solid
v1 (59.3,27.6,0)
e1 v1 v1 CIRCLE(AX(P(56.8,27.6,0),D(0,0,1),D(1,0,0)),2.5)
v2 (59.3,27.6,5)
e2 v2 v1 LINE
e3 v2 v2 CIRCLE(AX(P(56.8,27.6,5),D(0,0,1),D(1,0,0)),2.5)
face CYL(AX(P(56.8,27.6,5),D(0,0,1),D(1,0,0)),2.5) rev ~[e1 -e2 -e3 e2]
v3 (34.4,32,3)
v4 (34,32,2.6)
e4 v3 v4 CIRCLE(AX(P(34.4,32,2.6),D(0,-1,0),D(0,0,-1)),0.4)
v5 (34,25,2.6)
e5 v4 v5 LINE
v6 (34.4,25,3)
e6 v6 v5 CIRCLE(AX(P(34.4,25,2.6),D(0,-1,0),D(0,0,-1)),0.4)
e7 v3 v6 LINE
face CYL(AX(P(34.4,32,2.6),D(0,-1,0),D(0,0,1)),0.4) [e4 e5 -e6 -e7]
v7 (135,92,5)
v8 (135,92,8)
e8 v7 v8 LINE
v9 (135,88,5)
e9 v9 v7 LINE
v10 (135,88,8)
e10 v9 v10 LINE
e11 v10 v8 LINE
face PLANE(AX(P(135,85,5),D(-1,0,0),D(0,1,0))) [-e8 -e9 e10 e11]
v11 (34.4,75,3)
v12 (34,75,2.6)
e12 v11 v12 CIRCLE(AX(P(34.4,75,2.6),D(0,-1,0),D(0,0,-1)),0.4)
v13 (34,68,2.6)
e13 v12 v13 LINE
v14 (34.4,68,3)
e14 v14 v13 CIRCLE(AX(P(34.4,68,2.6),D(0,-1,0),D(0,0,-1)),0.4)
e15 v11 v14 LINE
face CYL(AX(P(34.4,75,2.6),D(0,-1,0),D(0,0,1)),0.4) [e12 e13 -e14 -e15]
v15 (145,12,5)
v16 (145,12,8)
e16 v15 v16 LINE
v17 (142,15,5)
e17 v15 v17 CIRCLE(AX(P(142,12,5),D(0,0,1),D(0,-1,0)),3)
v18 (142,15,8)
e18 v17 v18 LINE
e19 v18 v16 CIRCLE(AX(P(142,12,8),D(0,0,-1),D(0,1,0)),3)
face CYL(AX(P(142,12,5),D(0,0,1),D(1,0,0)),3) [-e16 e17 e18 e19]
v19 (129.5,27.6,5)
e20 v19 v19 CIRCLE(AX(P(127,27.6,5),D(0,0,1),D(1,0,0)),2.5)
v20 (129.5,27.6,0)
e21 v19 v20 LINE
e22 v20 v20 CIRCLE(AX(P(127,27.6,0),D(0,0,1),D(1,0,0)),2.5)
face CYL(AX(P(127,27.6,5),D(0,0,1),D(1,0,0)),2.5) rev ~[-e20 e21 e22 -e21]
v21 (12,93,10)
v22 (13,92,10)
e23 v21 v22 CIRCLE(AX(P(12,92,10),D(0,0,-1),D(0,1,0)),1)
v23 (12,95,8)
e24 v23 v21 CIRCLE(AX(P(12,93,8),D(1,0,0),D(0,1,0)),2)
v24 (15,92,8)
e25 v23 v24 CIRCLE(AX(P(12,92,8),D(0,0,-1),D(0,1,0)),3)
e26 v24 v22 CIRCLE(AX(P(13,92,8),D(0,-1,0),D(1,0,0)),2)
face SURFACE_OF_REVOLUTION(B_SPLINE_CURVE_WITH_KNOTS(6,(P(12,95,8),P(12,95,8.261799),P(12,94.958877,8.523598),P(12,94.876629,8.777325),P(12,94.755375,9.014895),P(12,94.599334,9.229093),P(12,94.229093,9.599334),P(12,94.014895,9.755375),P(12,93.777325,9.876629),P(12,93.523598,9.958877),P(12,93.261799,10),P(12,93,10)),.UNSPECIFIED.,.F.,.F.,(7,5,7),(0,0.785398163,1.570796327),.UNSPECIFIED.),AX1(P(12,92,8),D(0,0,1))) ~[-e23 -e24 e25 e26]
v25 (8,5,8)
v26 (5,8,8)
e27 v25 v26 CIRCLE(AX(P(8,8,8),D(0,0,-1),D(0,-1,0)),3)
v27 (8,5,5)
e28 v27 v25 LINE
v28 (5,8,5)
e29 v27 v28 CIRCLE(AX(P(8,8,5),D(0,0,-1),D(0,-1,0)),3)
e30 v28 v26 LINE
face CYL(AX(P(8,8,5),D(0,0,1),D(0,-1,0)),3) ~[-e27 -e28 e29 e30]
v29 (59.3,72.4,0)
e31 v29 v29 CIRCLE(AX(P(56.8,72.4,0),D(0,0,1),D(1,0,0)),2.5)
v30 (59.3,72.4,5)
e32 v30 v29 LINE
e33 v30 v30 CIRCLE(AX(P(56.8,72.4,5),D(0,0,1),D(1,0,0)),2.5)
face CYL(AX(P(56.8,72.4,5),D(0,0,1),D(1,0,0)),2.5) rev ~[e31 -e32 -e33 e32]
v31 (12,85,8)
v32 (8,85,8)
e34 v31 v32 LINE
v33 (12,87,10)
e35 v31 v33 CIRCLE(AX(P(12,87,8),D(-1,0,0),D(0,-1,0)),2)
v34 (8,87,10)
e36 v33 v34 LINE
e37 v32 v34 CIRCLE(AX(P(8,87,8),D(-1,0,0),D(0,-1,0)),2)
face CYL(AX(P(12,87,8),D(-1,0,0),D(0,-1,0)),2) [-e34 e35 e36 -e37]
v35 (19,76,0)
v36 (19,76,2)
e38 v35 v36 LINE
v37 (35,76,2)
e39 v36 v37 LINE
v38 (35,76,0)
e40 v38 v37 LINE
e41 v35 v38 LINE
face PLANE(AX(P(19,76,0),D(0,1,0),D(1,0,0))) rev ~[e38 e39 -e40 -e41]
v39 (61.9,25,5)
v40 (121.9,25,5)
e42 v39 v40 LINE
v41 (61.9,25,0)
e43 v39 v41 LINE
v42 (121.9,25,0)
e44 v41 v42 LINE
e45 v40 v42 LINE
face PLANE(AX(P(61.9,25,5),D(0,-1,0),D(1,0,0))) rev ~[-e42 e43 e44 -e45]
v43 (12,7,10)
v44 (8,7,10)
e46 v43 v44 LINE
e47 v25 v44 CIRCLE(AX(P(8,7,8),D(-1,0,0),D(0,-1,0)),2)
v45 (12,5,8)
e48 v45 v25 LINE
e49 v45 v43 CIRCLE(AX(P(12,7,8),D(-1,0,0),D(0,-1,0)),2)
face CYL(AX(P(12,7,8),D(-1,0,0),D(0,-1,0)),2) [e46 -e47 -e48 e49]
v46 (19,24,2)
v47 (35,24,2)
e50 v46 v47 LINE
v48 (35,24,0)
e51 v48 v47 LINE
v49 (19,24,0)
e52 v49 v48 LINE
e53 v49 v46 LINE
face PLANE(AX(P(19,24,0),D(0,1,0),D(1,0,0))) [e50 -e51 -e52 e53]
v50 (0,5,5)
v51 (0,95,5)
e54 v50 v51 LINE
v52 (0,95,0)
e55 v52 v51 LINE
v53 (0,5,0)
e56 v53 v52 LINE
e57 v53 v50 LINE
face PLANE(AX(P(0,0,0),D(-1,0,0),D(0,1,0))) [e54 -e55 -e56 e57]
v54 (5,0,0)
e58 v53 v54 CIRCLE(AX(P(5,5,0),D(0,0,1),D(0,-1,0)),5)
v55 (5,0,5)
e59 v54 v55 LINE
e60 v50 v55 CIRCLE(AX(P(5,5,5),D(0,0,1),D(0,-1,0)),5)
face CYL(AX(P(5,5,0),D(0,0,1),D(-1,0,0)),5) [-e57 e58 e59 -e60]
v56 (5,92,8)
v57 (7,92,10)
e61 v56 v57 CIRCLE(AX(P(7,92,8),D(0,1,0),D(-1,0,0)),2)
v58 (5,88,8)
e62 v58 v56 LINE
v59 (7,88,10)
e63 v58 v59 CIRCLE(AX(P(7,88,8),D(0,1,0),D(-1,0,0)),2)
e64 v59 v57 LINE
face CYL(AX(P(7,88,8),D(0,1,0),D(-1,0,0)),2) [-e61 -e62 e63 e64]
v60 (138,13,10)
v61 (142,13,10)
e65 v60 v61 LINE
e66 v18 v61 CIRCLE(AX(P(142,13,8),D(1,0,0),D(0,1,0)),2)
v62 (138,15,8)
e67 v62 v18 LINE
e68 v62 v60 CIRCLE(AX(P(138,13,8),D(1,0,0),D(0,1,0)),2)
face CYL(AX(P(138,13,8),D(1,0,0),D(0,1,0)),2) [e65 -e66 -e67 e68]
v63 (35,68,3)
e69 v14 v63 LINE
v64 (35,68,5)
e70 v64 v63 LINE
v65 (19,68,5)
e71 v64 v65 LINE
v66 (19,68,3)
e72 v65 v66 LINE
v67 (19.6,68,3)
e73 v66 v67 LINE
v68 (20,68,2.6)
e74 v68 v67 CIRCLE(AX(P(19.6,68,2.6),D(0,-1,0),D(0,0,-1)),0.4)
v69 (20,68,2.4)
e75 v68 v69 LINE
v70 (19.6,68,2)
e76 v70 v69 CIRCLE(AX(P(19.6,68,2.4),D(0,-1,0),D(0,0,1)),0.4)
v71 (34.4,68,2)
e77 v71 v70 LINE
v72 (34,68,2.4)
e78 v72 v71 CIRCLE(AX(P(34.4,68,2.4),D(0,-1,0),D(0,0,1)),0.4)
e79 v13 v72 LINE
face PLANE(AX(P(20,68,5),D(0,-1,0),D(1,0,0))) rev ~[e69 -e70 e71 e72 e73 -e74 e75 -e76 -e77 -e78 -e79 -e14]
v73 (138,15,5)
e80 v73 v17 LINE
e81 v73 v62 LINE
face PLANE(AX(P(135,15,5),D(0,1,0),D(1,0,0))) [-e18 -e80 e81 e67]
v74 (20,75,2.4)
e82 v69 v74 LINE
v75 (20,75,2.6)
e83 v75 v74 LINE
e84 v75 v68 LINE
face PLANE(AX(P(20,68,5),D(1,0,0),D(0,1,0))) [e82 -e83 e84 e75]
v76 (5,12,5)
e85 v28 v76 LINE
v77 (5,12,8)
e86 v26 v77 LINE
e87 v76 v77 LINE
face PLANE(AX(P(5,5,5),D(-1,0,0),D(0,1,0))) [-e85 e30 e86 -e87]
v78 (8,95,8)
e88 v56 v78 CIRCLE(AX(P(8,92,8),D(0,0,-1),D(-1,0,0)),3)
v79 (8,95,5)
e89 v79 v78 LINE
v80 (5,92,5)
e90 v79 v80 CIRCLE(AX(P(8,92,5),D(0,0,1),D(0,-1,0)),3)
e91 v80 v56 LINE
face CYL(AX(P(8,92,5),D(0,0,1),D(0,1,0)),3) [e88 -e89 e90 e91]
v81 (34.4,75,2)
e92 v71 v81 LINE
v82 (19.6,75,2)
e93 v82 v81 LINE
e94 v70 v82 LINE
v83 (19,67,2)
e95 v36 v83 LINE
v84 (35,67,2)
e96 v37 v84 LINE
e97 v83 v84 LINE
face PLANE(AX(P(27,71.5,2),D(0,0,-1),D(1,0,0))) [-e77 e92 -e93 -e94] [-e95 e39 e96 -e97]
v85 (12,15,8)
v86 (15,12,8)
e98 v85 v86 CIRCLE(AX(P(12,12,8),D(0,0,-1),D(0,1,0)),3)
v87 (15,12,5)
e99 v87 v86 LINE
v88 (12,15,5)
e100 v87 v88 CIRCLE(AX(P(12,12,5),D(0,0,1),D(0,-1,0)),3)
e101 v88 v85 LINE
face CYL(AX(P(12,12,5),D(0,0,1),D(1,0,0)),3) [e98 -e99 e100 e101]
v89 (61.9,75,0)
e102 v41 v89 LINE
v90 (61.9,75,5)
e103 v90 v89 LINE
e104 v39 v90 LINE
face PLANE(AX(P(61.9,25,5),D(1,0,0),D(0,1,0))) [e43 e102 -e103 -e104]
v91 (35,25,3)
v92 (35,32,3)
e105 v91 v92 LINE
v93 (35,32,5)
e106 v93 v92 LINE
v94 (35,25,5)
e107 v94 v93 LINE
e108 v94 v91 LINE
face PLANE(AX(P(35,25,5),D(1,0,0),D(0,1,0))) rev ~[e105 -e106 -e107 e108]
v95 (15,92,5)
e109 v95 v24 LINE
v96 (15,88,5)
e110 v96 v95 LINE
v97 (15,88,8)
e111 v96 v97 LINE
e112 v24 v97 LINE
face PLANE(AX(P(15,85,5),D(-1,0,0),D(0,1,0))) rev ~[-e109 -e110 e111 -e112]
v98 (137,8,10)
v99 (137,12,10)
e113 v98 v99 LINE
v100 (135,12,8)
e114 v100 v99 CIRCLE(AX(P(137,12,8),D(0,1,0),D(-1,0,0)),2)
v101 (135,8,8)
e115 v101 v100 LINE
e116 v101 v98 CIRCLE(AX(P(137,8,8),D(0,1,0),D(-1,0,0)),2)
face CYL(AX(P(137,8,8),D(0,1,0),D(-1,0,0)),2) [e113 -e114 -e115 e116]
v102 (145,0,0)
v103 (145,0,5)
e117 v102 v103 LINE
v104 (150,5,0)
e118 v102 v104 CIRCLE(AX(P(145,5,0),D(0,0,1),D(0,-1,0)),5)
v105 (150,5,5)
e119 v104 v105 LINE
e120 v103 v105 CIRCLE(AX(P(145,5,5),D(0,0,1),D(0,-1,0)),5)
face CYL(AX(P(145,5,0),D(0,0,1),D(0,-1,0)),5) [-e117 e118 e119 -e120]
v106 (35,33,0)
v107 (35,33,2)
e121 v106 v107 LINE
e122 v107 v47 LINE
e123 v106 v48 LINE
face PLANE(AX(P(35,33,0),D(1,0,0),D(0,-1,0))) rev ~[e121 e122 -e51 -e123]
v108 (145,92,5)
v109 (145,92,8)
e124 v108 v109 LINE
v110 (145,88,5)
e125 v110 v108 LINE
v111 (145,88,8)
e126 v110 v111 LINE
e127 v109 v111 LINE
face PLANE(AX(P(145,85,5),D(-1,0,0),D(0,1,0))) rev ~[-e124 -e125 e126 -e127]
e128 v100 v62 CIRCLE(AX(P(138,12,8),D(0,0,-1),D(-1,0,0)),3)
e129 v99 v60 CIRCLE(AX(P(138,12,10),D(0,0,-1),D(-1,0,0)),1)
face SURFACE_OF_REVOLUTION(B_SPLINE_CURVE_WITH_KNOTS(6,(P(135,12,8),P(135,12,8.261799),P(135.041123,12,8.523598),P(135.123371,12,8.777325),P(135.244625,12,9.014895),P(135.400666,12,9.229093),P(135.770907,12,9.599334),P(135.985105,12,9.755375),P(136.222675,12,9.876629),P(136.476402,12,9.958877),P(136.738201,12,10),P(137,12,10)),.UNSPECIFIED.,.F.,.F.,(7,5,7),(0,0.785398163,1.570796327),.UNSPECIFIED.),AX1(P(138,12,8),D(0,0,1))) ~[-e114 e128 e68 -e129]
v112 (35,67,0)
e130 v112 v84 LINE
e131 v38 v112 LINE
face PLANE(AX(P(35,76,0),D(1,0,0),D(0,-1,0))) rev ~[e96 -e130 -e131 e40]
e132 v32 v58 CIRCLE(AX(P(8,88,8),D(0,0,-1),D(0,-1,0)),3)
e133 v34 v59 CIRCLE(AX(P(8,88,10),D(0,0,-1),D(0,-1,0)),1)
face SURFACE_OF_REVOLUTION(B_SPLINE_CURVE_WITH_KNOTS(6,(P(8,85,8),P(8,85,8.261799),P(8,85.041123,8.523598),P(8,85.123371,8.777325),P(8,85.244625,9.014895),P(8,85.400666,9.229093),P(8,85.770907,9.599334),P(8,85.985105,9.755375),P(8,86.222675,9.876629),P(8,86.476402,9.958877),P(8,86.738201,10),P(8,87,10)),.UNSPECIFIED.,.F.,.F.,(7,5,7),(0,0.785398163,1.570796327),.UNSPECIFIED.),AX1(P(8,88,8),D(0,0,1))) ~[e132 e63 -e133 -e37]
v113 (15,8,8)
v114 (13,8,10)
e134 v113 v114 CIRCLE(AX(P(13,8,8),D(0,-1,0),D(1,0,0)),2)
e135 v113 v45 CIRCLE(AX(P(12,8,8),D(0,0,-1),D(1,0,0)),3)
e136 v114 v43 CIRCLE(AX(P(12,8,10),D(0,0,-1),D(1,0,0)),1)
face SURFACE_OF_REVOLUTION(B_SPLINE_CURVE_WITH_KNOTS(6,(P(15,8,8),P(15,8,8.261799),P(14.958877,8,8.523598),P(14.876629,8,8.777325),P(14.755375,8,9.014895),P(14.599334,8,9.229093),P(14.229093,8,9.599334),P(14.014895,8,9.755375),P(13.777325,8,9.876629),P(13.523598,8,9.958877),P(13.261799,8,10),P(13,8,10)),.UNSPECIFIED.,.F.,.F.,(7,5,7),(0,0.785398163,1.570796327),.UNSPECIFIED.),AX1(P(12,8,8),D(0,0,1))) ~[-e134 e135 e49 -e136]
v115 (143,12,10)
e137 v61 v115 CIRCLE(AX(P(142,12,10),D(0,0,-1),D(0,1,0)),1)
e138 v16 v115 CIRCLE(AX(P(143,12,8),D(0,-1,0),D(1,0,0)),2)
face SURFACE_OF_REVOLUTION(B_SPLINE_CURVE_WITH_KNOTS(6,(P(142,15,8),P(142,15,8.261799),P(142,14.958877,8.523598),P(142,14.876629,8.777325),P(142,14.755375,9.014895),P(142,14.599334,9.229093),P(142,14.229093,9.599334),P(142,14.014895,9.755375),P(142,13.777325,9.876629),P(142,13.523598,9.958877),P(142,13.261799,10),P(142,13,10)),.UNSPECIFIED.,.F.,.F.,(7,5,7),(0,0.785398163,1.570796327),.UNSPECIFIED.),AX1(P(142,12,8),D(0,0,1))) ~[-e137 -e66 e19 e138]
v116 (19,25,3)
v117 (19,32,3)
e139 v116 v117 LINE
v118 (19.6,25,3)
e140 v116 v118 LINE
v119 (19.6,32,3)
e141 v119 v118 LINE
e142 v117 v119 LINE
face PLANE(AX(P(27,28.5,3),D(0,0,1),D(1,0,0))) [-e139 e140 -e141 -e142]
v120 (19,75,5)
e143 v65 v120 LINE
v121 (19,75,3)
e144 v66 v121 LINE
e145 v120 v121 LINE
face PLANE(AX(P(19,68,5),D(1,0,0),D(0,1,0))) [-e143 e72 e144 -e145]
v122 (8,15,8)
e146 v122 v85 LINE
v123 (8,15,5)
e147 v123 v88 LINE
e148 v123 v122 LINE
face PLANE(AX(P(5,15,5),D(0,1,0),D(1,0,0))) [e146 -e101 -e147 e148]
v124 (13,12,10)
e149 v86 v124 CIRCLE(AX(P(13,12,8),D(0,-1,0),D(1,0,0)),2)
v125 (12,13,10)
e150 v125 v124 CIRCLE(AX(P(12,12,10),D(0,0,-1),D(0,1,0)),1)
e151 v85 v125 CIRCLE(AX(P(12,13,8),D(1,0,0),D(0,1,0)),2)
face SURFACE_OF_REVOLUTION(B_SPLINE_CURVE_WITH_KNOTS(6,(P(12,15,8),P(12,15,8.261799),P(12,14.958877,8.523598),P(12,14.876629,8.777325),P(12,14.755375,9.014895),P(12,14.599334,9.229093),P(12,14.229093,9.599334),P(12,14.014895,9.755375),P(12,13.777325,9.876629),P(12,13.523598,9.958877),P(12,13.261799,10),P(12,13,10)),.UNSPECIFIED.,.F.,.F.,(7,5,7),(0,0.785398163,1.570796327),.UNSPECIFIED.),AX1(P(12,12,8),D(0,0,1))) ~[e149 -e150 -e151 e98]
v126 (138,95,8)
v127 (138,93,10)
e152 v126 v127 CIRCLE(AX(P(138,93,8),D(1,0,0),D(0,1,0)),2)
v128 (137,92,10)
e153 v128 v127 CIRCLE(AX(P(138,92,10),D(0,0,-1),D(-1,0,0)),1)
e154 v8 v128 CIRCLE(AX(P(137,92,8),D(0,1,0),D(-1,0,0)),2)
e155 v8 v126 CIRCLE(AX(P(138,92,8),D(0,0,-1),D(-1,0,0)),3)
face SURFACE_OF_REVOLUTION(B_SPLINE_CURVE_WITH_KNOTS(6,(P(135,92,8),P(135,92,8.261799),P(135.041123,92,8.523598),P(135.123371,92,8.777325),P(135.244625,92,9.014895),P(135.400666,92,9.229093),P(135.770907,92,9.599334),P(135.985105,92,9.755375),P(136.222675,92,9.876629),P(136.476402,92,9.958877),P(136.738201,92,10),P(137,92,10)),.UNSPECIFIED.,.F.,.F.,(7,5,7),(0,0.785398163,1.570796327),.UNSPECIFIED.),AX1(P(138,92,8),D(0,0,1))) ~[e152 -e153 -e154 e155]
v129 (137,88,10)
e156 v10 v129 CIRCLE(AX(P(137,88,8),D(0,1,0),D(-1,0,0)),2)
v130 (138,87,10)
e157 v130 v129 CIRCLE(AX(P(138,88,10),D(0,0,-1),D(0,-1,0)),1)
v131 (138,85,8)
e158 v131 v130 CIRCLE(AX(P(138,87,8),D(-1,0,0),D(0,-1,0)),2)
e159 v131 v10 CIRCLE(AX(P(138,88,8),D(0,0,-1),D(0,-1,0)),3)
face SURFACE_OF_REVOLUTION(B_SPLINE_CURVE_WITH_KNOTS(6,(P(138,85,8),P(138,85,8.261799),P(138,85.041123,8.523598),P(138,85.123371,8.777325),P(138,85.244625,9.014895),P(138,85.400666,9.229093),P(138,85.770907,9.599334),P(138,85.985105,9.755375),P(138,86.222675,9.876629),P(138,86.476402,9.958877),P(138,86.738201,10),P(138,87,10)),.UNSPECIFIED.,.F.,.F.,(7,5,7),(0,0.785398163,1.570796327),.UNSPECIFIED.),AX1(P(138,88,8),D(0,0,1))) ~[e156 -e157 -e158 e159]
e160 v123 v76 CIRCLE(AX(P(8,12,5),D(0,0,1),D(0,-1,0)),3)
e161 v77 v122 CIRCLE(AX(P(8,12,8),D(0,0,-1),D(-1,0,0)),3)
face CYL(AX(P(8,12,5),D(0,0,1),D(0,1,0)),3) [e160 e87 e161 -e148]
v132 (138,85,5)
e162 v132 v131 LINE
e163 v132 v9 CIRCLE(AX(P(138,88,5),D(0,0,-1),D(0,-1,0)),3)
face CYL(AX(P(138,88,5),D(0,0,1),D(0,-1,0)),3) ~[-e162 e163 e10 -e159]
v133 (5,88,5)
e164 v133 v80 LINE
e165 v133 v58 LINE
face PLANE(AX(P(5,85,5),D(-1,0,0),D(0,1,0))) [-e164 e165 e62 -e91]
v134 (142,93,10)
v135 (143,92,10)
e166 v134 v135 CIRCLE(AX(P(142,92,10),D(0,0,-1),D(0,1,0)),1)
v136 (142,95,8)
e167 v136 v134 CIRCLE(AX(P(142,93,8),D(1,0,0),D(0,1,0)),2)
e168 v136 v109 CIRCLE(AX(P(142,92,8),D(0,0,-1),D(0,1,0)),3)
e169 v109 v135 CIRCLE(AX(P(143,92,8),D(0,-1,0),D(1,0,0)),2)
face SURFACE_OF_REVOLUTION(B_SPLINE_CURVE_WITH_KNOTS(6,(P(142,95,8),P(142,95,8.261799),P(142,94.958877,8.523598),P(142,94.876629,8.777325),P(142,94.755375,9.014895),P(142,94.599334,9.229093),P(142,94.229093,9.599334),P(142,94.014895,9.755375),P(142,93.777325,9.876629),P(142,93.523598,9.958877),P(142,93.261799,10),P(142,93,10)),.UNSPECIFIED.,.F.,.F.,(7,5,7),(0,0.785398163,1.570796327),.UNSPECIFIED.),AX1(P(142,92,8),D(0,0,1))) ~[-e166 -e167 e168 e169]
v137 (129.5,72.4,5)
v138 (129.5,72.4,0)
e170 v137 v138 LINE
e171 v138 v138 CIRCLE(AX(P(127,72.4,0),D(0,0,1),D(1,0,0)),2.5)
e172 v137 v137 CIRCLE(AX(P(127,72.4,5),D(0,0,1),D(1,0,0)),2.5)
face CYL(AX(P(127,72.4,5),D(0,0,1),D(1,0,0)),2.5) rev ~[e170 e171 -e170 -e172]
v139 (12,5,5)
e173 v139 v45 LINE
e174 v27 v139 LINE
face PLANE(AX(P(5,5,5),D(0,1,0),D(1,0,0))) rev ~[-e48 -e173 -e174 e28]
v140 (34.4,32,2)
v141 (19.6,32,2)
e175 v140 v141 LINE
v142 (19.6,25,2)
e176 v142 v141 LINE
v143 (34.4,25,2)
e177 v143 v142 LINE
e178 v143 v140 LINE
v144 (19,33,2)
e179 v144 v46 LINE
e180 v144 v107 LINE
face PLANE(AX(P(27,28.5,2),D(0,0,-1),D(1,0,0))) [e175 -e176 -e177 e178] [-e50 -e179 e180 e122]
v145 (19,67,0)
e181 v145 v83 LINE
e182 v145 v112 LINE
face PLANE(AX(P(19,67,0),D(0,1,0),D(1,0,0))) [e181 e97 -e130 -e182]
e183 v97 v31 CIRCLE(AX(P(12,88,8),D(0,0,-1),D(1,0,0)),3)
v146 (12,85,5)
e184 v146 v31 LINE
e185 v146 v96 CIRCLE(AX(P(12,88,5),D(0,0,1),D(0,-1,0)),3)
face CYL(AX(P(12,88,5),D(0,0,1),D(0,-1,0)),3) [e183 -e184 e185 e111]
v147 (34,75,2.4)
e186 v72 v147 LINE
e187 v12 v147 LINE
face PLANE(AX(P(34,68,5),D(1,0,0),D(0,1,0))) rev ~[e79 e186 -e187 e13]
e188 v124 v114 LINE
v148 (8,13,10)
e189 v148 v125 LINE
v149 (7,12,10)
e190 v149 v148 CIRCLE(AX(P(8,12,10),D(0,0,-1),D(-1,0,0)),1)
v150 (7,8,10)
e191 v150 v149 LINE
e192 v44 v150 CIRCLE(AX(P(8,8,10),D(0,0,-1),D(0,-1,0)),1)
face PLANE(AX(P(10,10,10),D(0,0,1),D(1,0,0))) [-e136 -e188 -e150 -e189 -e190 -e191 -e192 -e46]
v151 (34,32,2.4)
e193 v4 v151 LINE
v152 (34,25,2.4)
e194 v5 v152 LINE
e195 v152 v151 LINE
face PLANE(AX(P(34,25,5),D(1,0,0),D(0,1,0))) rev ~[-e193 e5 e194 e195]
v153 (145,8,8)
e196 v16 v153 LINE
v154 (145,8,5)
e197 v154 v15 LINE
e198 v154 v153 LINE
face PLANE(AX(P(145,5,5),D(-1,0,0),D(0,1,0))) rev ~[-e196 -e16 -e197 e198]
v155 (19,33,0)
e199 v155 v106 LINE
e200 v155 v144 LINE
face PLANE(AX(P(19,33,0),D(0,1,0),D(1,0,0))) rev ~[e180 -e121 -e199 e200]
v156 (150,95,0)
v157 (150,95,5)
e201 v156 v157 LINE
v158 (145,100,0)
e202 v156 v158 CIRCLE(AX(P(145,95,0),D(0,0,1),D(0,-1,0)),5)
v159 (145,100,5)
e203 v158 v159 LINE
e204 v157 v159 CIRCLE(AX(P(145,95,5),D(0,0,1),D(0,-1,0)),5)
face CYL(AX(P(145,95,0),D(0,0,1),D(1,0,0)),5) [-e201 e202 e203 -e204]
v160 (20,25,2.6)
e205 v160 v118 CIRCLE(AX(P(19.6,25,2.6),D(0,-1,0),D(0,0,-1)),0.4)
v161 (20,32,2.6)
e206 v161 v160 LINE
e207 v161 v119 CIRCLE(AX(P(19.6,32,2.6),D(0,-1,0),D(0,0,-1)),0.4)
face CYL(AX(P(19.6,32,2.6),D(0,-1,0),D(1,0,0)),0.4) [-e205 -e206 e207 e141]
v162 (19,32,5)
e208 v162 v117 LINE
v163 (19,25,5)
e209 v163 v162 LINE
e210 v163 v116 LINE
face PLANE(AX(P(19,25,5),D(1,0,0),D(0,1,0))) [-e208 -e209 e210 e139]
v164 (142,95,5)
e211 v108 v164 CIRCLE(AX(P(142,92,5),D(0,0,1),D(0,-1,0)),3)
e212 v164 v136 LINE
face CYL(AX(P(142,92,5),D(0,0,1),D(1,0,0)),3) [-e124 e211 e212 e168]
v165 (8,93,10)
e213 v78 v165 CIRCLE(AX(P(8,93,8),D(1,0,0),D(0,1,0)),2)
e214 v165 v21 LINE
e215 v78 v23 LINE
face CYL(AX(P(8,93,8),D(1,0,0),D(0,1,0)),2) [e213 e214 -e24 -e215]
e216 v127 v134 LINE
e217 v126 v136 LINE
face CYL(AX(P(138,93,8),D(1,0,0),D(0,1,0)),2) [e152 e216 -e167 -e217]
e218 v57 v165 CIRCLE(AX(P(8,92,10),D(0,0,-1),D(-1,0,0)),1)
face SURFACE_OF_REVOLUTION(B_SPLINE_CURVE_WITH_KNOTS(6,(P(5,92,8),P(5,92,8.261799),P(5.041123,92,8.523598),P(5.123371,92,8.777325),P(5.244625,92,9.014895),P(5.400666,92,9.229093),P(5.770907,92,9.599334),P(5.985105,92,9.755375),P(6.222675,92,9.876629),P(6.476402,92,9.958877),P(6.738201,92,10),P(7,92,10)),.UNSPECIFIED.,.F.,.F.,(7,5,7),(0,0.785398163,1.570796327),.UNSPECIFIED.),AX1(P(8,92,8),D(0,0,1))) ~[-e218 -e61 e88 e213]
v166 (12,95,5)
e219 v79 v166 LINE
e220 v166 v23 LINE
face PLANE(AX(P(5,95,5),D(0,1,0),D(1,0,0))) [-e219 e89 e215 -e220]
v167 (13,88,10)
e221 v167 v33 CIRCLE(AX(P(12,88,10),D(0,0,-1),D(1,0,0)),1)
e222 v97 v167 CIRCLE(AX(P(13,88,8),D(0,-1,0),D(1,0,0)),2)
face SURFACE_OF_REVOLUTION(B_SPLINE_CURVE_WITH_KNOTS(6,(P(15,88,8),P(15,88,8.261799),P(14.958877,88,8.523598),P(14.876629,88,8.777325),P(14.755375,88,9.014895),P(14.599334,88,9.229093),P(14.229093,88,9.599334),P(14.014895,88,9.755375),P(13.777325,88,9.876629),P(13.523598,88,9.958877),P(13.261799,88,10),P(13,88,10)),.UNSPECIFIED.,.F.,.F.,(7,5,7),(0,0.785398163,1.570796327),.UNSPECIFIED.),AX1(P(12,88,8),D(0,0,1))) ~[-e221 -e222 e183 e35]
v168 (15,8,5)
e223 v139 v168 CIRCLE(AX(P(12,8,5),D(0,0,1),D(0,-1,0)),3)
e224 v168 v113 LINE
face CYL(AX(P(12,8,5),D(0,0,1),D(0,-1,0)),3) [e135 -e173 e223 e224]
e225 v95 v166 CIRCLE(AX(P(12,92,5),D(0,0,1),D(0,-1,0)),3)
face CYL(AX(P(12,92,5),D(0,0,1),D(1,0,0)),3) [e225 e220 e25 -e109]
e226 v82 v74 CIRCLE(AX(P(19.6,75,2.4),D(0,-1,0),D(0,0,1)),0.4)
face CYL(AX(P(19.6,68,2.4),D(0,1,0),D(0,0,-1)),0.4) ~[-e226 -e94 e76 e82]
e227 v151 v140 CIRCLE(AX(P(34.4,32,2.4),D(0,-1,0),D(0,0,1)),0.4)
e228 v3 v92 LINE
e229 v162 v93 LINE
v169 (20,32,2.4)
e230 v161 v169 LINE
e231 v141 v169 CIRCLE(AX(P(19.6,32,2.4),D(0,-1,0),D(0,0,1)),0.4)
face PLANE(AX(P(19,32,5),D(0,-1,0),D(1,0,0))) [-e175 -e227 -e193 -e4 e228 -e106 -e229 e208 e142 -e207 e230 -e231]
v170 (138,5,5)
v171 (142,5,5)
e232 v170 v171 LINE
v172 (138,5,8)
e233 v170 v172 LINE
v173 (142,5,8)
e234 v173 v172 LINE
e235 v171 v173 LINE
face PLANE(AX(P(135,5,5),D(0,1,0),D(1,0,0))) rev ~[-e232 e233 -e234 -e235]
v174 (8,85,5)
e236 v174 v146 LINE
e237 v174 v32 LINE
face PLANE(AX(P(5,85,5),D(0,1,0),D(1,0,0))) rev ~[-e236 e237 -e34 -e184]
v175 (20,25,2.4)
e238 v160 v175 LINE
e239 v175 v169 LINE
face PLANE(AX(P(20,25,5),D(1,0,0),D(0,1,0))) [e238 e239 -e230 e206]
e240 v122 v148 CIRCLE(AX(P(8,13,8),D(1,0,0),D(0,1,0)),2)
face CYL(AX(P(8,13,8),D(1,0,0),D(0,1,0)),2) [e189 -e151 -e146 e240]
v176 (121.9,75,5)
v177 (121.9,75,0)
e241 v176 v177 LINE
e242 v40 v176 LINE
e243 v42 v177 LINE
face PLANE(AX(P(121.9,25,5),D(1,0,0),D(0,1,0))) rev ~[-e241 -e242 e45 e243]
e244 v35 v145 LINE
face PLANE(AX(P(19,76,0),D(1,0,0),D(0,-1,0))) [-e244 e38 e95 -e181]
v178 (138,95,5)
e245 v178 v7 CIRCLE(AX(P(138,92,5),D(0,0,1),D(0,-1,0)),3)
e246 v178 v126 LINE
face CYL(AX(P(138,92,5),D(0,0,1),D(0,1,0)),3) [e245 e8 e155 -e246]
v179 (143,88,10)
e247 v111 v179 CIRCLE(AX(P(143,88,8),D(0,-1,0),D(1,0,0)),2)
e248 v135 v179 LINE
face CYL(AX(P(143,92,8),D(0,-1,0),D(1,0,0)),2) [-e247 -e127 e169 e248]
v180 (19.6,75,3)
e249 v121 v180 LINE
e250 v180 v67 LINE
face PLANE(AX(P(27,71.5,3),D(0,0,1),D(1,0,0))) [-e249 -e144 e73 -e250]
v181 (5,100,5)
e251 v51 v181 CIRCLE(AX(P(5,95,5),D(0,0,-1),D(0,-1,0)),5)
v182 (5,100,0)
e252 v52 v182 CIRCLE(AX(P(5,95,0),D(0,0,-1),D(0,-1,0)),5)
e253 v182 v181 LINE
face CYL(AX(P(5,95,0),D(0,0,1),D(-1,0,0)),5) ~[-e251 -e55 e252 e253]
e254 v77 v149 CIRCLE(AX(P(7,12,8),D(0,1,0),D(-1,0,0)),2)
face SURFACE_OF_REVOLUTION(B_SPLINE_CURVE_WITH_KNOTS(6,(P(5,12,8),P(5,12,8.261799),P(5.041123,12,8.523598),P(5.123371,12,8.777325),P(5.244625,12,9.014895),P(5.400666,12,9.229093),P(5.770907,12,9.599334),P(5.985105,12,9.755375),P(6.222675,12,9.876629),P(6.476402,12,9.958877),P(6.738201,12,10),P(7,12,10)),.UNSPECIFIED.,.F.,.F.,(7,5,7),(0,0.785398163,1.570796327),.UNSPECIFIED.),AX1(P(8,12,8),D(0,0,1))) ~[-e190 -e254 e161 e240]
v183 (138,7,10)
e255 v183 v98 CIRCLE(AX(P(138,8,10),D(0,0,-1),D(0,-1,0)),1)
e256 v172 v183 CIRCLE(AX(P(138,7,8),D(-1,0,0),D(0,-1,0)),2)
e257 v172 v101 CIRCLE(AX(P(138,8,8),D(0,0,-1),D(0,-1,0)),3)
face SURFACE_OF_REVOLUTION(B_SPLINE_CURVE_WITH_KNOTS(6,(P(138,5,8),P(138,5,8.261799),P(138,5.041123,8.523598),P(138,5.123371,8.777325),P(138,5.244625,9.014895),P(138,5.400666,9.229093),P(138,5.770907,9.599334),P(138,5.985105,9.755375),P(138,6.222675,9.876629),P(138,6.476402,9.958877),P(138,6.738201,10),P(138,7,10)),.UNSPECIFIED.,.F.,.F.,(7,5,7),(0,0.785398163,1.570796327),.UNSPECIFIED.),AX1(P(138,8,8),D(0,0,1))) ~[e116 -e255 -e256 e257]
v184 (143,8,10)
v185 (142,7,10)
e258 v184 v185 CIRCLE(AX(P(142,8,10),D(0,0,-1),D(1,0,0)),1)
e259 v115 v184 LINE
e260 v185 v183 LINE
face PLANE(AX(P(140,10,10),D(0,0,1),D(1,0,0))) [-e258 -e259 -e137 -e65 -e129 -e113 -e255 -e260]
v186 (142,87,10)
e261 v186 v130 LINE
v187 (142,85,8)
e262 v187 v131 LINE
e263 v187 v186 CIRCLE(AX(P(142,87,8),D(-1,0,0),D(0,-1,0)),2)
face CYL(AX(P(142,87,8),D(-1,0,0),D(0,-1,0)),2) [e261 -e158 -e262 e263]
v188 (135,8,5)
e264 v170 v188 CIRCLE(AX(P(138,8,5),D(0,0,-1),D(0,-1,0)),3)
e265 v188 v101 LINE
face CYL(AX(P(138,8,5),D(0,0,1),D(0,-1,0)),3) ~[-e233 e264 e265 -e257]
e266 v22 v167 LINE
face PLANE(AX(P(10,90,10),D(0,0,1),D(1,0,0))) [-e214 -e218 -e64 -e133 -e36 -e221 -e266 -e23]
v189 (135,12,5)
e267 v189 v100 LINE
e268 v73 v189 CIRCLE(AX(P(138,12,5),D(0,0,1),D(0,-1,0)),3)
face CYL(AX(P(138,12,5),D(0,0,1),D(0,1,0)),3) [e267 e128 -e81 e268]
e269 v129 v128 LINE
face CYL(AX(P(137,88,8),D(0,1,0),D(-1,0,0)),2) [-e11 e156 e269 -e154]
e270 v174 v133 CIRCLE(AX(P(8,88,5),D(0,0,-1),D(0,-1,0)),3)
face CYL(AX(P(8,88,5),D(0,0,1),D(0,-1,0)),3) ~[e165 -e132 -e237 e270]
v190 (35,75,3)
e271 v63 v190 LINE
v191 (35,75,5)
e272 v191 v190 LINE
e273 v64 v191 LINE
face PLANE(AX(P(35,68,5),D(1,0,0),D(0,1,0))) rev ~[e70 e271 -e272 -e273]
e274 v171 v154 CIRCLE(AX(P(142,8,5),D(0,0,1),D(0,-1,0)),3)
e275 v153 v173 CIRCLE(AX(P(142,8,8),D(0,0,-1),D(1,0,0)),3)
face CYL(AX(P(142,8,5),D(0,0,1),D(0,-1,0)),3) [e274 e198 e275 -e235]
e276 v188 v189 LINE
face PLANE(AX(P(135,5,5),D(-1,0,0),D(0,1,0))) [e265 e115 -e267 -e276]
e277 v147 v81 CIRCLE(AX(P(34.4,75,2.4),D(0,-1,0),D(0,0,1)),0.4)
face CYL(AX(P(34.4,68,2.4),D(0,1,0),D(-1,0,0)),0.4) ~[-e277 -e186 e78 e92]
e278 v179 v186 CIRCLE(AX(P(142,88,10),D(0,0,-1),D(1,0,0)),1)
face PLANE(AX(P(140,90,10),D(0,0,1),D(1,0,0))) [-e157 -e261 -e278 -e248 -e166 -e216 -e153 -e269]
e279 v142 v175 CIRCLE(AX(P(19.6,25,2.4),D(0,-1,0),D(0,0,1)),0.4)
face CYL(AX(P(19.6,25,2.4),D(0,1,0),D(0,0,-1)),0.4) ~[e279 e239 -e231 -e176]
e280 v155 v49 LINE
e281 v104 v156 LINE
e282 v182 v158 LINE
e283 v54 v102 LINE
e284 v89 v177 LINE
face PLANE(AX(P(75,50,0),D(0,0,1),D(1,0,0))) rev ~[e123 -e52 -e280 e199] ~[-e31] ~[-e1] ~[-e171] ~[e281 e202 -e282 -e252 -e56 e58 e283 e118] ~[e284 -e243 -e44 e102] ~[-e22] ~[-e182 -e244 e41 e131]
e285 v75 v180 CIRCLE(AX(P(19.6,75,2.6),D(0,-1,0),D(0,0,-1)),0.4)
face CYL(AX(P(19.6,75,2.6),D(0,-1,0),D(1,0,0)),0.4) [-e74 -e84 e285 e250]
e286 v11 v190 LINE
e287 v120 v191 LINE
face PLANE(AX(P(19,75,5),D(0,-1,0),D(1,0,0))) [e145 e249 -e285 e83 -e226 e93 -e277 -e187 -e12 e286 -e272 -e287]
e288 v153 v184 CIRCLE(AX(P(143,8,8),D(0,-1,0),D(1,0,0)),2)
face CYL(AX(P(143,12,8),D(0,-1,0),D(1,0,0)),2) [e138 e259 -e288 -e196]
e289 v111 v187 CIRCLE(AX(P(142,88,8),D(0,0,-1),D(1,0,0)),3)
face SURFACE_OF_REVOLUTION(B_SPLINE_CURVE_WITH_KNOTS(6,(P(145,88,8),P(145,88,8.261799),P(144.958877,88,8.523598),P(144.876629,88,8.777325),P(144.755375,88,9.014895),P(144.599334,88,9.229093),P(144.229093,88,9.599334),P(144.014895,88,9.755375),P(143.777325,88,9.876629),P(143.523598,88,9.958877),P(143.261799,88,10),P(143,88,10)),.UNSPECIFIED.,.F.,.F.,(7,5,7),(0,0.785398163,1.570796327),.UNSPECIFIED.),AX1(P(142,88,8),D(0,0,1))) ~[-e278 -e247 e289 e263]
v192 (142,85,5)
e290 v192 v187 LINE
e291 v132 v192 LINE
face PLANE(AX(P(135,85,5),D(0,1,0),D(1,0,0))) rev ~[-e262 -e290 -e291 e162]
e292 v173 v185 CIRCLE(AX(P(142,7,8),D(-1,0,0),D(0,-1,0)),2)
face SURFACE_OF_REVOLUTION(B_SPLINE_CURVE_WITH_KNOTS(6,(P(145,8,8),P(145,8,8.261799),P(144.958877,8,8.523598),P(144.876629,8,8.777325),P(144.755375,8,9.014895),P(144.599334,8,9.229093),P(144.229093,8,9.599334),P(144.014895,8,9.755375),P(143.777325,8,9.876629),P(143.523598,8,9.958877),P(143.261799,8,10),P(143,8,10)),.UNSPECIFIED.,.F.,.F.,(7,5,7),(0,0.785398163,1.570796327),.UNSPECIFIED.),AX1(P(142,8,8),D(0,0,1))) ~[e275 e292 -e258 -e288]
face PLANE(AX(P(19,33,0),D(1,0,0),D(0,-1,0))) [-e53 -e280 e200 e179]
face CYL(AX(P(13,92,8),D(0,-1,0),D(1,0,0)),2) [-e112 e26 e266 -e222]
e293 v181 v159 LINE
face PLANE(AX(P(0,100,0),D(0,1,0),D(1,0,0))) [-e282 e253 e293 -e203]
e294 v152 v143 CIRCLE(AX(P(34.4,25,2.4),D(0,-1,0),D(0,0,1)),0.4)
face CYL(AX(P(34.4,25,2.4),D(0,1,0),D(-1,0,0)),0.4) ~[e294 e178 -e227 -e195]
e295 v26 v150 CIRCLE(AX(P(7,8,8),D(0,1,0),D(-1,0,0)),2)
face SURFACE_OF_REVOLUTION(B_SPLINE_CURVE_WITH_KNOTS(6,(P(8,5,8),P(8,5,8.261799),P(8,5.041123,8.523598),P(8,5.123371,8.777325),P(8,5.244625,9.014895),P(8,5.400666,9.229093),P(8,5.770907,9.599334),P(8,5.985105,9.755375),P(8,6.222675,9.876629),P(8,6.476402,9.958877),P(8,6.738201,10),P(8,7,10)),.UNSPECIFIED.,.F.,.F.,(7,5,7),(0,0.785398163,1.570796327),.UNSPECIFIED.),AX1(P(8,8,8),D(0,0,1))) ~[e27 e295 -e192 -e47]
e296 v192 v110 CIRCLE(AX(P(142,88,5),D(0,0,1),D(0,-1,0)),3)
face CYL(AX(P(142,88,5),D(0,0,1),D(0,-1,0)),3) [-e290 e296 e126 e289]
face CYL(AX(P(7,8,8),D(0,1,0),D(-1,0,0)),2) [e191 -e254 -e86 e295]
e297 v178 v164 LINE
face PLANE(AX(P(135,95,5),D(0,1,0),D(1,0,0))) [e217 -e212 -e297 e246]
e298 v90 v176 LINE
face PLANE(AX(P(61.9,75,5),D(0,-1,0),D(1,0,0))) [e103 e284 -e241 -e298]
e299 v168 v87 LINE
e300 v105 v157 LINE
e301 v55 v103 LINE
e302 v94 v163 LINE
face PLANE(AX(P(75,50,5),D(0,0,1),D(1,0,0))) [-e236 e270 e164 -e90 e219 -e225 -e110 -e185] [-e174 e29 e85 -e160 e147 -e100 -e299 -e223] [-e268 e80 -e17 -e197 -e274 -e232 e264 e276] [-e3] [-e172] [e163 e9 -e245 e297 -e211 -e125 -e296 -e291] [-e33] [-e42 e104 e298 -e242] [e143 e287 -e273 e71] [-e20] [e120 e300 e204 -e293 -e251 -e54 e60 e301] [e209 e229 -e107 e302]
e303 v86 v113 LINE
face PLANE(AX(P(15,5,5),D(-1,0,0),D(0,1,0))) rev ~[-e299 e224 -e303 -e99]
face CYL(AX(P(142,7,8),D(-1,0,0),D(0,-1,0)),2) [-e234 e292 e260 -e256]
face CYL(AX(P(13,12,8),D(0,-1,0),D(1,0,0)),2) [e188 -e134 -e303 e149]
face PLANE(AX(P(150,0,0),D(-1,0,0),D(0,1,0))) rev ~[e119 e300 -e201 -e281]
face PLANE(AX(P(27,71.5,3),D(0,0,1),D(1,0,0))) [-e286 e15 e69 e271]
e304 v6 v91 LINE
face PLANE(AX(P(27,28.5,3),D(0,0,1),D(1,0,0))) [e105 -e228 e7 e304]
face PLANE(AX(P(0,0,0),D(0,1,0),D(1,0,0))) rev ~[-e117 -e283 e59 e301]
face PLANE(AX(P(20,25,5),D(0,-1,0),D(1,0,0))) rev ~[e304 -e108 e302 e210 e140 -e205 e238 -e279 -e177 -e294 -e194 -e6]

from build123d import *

# Parameters (mm, degrees)
SKETCH_W        = 150
SKETCH_H        = 100
PAD_DEPTH       = 5
FILLET_R        = 5
SKETCH001_W     = 10
SKETCH001_H     = 10
PAD001_DEPTH    = 5
FILLET001_R     = 3
FILLET002_R     = 2
SKETCH002_R     = 2.5
POCKET_DEPTH    = 5
SKETCH003_W     = 60
SKETCH003_H     = 50
POCKET001_DEPTH = 5.001
SKETCH004_W     = 14
SKETCH004_H     = 7
POCKET002_DEPTH = 5.001
SKETCH005_W     = 16
SKETCH005_H     = 7
POCKET003_DEPTH = 2
SKETCH006_W     = 16
SKETCH006_H     = 9
POCKET004_DEPTH = 2
FILLET003_R     = 0.4


with BuildPart() as part:
    # Sketch → Pad (new body)
    with BuildSketch(Plane.XY):
        with Locations((75, 50)):
            Rectangle(SKETCH_W, SKETCH_H)
    extrude(amount=PAD_DEPTH)

    # Fillet
    fillet_edges = [part.edges().sort_by_distance(p)[0] for p in [
        (0, 0, 2.5),
        (150, 0, 2.5),
        (150, 100, 2.5),
        (0, 100, 2.5),
    ]]
    fillet(fillet_edges, radius=FILLET_R)

    # Sketch001 → Pad001 (new body)
    with BuildSketch(Plane.XY.offset(5)):
        with Locations((10, 10)):
            Rectangle(SKETCH001_W, SKETCH001_H)
        with Locations((140, 90)):
            Rectangle(SKETCH001_W, SKETCH001_H)
        with Locations((10, 90)):
            Rectangle(SKETCH001_W, SKETCH001_H)
        with Locations((140, 10)):
            Rectangle(SKETCH001_W, SKETCH001_H)
    extrude(amount=PAD001_DEPTH)

    # Fillet001
    fillet001_edges = [part.edges().sort_by_distance(p)[0] for p in [
        (5, 5, 7.5),
        (15, 5, 7.5),
        (5, 15, 7.5),
        (15, 15, 7.5),
        (5, 95, 7.5),
        (15, 95, 7.5),
        (5, 85, 7.5),
        (15, 85, 7.5),
        (135, 5, 7.5),
        (145, 5, 7.5),
        (145, 15, 7.5),
        (135, 85, 7.5),
        (145, 85, 7.5),
        (145, 95, 7.5),
        (135, 95, 7.5),
        (135, 15, 7.5),
    ]]
    fillet(fillet001_edges, radius=FILLET001_R)

    # Fillet002
    fillet002_edges = [part.edges().sort_by_distance(p)[0] for p in [
        (10, 15, 10),
        (140, 15, 10),
        (140, 95, 10),
        (10, 95, 10),
    ]]
    fillet(fillet002_edges, radius=FILLET002_R)

    # Sketch002 → Pocket (cut)
    with BuildSketch(Plane.XY.offset(5)):
        with Locations((56.8, 72.4)):
            Circle(SKETCH002_R)
        with Locations((127, 72.4)):
            Circle(SKETCH002_R)
        with Locations((56.8, 27.6)):
            Circle(SKETCH002_R)
        with Locations((127, 27.6)):
            Circle(SKETCH002_R)
    extrude(amount=-POCKET_DEPTH, mode=Mode.SUBTRACT)

    # Sketch003 → Pocket001 (cut, through all)
    with BuildSketch(Plane.XY.offset(5)):
        with Locations((91.9, 50)):
            Rectangle(SKETCH003_W, SKETCH003_H)
    extrude(amount=-POCKET001_DEPTH, mode=Mode.SUBTRACT)

    # Sketch004 → Pocket002 (cut, through all)
    with BuildSketch(Plane.XY.offset(5)):
        with Locations((27, 71.5)):
            Rectangle(SKETCH004_W, SKETCH004_H)
        with Locations((27, 28.5)):
            Rectangle(SKETCH004_W, SKETCH004_H)
    extrude(amount=-POCKET002_DEPTH, mode=Mode.SUBTRACT)

    # Sketch005 → Pocket003 (cut)
    with BuildSketch(Plane.XY.offset(5)):
        with Locations((27, 71.5)):
            Rectangle(SKETCH005_W, SKETCH005_H)
        with Locations((27, 28.5)):
            Rectangle(SKETCH005_W, SKETCH005_H)
    extrude(amount=-POCKET003_DEPTH, mode=Mode.SUBTRACT)

    # Sketch006 → Pocket004 (cut)
    with BuildSketch(Plane(origin=(0, 0, 0), x_dir=(1, 0, 0), z_dir=(0, 0, -1))):
        with Locations((27, -28.5)):
            Rectangle(SKETCH006_W, SKETCH006_H)
        with Locations((27, -71.5)):
            Rectangle(SKETCH006_W, SKETCH006_H)
    extrude(amount=-POCKET004_DEPTH, mode=Mode.SUBTRACT)

    # Fillet003
    fillet003_edges = [part.edges().sort_by_distance(p)[0] for p in [
        (34, 28.5, 3),
        (34, 28.5, 2),
        (20, 28.5, 3),
        (20, 28.5, 2),
        (20, 71.5, 3),
        (20, 71.5, 2),
        (34, 71.5, 3),
        (34, 71.5, 2),
    ]]
    fillet(fillet003_edges, radius=FILLET003_R)


solid = part.part
